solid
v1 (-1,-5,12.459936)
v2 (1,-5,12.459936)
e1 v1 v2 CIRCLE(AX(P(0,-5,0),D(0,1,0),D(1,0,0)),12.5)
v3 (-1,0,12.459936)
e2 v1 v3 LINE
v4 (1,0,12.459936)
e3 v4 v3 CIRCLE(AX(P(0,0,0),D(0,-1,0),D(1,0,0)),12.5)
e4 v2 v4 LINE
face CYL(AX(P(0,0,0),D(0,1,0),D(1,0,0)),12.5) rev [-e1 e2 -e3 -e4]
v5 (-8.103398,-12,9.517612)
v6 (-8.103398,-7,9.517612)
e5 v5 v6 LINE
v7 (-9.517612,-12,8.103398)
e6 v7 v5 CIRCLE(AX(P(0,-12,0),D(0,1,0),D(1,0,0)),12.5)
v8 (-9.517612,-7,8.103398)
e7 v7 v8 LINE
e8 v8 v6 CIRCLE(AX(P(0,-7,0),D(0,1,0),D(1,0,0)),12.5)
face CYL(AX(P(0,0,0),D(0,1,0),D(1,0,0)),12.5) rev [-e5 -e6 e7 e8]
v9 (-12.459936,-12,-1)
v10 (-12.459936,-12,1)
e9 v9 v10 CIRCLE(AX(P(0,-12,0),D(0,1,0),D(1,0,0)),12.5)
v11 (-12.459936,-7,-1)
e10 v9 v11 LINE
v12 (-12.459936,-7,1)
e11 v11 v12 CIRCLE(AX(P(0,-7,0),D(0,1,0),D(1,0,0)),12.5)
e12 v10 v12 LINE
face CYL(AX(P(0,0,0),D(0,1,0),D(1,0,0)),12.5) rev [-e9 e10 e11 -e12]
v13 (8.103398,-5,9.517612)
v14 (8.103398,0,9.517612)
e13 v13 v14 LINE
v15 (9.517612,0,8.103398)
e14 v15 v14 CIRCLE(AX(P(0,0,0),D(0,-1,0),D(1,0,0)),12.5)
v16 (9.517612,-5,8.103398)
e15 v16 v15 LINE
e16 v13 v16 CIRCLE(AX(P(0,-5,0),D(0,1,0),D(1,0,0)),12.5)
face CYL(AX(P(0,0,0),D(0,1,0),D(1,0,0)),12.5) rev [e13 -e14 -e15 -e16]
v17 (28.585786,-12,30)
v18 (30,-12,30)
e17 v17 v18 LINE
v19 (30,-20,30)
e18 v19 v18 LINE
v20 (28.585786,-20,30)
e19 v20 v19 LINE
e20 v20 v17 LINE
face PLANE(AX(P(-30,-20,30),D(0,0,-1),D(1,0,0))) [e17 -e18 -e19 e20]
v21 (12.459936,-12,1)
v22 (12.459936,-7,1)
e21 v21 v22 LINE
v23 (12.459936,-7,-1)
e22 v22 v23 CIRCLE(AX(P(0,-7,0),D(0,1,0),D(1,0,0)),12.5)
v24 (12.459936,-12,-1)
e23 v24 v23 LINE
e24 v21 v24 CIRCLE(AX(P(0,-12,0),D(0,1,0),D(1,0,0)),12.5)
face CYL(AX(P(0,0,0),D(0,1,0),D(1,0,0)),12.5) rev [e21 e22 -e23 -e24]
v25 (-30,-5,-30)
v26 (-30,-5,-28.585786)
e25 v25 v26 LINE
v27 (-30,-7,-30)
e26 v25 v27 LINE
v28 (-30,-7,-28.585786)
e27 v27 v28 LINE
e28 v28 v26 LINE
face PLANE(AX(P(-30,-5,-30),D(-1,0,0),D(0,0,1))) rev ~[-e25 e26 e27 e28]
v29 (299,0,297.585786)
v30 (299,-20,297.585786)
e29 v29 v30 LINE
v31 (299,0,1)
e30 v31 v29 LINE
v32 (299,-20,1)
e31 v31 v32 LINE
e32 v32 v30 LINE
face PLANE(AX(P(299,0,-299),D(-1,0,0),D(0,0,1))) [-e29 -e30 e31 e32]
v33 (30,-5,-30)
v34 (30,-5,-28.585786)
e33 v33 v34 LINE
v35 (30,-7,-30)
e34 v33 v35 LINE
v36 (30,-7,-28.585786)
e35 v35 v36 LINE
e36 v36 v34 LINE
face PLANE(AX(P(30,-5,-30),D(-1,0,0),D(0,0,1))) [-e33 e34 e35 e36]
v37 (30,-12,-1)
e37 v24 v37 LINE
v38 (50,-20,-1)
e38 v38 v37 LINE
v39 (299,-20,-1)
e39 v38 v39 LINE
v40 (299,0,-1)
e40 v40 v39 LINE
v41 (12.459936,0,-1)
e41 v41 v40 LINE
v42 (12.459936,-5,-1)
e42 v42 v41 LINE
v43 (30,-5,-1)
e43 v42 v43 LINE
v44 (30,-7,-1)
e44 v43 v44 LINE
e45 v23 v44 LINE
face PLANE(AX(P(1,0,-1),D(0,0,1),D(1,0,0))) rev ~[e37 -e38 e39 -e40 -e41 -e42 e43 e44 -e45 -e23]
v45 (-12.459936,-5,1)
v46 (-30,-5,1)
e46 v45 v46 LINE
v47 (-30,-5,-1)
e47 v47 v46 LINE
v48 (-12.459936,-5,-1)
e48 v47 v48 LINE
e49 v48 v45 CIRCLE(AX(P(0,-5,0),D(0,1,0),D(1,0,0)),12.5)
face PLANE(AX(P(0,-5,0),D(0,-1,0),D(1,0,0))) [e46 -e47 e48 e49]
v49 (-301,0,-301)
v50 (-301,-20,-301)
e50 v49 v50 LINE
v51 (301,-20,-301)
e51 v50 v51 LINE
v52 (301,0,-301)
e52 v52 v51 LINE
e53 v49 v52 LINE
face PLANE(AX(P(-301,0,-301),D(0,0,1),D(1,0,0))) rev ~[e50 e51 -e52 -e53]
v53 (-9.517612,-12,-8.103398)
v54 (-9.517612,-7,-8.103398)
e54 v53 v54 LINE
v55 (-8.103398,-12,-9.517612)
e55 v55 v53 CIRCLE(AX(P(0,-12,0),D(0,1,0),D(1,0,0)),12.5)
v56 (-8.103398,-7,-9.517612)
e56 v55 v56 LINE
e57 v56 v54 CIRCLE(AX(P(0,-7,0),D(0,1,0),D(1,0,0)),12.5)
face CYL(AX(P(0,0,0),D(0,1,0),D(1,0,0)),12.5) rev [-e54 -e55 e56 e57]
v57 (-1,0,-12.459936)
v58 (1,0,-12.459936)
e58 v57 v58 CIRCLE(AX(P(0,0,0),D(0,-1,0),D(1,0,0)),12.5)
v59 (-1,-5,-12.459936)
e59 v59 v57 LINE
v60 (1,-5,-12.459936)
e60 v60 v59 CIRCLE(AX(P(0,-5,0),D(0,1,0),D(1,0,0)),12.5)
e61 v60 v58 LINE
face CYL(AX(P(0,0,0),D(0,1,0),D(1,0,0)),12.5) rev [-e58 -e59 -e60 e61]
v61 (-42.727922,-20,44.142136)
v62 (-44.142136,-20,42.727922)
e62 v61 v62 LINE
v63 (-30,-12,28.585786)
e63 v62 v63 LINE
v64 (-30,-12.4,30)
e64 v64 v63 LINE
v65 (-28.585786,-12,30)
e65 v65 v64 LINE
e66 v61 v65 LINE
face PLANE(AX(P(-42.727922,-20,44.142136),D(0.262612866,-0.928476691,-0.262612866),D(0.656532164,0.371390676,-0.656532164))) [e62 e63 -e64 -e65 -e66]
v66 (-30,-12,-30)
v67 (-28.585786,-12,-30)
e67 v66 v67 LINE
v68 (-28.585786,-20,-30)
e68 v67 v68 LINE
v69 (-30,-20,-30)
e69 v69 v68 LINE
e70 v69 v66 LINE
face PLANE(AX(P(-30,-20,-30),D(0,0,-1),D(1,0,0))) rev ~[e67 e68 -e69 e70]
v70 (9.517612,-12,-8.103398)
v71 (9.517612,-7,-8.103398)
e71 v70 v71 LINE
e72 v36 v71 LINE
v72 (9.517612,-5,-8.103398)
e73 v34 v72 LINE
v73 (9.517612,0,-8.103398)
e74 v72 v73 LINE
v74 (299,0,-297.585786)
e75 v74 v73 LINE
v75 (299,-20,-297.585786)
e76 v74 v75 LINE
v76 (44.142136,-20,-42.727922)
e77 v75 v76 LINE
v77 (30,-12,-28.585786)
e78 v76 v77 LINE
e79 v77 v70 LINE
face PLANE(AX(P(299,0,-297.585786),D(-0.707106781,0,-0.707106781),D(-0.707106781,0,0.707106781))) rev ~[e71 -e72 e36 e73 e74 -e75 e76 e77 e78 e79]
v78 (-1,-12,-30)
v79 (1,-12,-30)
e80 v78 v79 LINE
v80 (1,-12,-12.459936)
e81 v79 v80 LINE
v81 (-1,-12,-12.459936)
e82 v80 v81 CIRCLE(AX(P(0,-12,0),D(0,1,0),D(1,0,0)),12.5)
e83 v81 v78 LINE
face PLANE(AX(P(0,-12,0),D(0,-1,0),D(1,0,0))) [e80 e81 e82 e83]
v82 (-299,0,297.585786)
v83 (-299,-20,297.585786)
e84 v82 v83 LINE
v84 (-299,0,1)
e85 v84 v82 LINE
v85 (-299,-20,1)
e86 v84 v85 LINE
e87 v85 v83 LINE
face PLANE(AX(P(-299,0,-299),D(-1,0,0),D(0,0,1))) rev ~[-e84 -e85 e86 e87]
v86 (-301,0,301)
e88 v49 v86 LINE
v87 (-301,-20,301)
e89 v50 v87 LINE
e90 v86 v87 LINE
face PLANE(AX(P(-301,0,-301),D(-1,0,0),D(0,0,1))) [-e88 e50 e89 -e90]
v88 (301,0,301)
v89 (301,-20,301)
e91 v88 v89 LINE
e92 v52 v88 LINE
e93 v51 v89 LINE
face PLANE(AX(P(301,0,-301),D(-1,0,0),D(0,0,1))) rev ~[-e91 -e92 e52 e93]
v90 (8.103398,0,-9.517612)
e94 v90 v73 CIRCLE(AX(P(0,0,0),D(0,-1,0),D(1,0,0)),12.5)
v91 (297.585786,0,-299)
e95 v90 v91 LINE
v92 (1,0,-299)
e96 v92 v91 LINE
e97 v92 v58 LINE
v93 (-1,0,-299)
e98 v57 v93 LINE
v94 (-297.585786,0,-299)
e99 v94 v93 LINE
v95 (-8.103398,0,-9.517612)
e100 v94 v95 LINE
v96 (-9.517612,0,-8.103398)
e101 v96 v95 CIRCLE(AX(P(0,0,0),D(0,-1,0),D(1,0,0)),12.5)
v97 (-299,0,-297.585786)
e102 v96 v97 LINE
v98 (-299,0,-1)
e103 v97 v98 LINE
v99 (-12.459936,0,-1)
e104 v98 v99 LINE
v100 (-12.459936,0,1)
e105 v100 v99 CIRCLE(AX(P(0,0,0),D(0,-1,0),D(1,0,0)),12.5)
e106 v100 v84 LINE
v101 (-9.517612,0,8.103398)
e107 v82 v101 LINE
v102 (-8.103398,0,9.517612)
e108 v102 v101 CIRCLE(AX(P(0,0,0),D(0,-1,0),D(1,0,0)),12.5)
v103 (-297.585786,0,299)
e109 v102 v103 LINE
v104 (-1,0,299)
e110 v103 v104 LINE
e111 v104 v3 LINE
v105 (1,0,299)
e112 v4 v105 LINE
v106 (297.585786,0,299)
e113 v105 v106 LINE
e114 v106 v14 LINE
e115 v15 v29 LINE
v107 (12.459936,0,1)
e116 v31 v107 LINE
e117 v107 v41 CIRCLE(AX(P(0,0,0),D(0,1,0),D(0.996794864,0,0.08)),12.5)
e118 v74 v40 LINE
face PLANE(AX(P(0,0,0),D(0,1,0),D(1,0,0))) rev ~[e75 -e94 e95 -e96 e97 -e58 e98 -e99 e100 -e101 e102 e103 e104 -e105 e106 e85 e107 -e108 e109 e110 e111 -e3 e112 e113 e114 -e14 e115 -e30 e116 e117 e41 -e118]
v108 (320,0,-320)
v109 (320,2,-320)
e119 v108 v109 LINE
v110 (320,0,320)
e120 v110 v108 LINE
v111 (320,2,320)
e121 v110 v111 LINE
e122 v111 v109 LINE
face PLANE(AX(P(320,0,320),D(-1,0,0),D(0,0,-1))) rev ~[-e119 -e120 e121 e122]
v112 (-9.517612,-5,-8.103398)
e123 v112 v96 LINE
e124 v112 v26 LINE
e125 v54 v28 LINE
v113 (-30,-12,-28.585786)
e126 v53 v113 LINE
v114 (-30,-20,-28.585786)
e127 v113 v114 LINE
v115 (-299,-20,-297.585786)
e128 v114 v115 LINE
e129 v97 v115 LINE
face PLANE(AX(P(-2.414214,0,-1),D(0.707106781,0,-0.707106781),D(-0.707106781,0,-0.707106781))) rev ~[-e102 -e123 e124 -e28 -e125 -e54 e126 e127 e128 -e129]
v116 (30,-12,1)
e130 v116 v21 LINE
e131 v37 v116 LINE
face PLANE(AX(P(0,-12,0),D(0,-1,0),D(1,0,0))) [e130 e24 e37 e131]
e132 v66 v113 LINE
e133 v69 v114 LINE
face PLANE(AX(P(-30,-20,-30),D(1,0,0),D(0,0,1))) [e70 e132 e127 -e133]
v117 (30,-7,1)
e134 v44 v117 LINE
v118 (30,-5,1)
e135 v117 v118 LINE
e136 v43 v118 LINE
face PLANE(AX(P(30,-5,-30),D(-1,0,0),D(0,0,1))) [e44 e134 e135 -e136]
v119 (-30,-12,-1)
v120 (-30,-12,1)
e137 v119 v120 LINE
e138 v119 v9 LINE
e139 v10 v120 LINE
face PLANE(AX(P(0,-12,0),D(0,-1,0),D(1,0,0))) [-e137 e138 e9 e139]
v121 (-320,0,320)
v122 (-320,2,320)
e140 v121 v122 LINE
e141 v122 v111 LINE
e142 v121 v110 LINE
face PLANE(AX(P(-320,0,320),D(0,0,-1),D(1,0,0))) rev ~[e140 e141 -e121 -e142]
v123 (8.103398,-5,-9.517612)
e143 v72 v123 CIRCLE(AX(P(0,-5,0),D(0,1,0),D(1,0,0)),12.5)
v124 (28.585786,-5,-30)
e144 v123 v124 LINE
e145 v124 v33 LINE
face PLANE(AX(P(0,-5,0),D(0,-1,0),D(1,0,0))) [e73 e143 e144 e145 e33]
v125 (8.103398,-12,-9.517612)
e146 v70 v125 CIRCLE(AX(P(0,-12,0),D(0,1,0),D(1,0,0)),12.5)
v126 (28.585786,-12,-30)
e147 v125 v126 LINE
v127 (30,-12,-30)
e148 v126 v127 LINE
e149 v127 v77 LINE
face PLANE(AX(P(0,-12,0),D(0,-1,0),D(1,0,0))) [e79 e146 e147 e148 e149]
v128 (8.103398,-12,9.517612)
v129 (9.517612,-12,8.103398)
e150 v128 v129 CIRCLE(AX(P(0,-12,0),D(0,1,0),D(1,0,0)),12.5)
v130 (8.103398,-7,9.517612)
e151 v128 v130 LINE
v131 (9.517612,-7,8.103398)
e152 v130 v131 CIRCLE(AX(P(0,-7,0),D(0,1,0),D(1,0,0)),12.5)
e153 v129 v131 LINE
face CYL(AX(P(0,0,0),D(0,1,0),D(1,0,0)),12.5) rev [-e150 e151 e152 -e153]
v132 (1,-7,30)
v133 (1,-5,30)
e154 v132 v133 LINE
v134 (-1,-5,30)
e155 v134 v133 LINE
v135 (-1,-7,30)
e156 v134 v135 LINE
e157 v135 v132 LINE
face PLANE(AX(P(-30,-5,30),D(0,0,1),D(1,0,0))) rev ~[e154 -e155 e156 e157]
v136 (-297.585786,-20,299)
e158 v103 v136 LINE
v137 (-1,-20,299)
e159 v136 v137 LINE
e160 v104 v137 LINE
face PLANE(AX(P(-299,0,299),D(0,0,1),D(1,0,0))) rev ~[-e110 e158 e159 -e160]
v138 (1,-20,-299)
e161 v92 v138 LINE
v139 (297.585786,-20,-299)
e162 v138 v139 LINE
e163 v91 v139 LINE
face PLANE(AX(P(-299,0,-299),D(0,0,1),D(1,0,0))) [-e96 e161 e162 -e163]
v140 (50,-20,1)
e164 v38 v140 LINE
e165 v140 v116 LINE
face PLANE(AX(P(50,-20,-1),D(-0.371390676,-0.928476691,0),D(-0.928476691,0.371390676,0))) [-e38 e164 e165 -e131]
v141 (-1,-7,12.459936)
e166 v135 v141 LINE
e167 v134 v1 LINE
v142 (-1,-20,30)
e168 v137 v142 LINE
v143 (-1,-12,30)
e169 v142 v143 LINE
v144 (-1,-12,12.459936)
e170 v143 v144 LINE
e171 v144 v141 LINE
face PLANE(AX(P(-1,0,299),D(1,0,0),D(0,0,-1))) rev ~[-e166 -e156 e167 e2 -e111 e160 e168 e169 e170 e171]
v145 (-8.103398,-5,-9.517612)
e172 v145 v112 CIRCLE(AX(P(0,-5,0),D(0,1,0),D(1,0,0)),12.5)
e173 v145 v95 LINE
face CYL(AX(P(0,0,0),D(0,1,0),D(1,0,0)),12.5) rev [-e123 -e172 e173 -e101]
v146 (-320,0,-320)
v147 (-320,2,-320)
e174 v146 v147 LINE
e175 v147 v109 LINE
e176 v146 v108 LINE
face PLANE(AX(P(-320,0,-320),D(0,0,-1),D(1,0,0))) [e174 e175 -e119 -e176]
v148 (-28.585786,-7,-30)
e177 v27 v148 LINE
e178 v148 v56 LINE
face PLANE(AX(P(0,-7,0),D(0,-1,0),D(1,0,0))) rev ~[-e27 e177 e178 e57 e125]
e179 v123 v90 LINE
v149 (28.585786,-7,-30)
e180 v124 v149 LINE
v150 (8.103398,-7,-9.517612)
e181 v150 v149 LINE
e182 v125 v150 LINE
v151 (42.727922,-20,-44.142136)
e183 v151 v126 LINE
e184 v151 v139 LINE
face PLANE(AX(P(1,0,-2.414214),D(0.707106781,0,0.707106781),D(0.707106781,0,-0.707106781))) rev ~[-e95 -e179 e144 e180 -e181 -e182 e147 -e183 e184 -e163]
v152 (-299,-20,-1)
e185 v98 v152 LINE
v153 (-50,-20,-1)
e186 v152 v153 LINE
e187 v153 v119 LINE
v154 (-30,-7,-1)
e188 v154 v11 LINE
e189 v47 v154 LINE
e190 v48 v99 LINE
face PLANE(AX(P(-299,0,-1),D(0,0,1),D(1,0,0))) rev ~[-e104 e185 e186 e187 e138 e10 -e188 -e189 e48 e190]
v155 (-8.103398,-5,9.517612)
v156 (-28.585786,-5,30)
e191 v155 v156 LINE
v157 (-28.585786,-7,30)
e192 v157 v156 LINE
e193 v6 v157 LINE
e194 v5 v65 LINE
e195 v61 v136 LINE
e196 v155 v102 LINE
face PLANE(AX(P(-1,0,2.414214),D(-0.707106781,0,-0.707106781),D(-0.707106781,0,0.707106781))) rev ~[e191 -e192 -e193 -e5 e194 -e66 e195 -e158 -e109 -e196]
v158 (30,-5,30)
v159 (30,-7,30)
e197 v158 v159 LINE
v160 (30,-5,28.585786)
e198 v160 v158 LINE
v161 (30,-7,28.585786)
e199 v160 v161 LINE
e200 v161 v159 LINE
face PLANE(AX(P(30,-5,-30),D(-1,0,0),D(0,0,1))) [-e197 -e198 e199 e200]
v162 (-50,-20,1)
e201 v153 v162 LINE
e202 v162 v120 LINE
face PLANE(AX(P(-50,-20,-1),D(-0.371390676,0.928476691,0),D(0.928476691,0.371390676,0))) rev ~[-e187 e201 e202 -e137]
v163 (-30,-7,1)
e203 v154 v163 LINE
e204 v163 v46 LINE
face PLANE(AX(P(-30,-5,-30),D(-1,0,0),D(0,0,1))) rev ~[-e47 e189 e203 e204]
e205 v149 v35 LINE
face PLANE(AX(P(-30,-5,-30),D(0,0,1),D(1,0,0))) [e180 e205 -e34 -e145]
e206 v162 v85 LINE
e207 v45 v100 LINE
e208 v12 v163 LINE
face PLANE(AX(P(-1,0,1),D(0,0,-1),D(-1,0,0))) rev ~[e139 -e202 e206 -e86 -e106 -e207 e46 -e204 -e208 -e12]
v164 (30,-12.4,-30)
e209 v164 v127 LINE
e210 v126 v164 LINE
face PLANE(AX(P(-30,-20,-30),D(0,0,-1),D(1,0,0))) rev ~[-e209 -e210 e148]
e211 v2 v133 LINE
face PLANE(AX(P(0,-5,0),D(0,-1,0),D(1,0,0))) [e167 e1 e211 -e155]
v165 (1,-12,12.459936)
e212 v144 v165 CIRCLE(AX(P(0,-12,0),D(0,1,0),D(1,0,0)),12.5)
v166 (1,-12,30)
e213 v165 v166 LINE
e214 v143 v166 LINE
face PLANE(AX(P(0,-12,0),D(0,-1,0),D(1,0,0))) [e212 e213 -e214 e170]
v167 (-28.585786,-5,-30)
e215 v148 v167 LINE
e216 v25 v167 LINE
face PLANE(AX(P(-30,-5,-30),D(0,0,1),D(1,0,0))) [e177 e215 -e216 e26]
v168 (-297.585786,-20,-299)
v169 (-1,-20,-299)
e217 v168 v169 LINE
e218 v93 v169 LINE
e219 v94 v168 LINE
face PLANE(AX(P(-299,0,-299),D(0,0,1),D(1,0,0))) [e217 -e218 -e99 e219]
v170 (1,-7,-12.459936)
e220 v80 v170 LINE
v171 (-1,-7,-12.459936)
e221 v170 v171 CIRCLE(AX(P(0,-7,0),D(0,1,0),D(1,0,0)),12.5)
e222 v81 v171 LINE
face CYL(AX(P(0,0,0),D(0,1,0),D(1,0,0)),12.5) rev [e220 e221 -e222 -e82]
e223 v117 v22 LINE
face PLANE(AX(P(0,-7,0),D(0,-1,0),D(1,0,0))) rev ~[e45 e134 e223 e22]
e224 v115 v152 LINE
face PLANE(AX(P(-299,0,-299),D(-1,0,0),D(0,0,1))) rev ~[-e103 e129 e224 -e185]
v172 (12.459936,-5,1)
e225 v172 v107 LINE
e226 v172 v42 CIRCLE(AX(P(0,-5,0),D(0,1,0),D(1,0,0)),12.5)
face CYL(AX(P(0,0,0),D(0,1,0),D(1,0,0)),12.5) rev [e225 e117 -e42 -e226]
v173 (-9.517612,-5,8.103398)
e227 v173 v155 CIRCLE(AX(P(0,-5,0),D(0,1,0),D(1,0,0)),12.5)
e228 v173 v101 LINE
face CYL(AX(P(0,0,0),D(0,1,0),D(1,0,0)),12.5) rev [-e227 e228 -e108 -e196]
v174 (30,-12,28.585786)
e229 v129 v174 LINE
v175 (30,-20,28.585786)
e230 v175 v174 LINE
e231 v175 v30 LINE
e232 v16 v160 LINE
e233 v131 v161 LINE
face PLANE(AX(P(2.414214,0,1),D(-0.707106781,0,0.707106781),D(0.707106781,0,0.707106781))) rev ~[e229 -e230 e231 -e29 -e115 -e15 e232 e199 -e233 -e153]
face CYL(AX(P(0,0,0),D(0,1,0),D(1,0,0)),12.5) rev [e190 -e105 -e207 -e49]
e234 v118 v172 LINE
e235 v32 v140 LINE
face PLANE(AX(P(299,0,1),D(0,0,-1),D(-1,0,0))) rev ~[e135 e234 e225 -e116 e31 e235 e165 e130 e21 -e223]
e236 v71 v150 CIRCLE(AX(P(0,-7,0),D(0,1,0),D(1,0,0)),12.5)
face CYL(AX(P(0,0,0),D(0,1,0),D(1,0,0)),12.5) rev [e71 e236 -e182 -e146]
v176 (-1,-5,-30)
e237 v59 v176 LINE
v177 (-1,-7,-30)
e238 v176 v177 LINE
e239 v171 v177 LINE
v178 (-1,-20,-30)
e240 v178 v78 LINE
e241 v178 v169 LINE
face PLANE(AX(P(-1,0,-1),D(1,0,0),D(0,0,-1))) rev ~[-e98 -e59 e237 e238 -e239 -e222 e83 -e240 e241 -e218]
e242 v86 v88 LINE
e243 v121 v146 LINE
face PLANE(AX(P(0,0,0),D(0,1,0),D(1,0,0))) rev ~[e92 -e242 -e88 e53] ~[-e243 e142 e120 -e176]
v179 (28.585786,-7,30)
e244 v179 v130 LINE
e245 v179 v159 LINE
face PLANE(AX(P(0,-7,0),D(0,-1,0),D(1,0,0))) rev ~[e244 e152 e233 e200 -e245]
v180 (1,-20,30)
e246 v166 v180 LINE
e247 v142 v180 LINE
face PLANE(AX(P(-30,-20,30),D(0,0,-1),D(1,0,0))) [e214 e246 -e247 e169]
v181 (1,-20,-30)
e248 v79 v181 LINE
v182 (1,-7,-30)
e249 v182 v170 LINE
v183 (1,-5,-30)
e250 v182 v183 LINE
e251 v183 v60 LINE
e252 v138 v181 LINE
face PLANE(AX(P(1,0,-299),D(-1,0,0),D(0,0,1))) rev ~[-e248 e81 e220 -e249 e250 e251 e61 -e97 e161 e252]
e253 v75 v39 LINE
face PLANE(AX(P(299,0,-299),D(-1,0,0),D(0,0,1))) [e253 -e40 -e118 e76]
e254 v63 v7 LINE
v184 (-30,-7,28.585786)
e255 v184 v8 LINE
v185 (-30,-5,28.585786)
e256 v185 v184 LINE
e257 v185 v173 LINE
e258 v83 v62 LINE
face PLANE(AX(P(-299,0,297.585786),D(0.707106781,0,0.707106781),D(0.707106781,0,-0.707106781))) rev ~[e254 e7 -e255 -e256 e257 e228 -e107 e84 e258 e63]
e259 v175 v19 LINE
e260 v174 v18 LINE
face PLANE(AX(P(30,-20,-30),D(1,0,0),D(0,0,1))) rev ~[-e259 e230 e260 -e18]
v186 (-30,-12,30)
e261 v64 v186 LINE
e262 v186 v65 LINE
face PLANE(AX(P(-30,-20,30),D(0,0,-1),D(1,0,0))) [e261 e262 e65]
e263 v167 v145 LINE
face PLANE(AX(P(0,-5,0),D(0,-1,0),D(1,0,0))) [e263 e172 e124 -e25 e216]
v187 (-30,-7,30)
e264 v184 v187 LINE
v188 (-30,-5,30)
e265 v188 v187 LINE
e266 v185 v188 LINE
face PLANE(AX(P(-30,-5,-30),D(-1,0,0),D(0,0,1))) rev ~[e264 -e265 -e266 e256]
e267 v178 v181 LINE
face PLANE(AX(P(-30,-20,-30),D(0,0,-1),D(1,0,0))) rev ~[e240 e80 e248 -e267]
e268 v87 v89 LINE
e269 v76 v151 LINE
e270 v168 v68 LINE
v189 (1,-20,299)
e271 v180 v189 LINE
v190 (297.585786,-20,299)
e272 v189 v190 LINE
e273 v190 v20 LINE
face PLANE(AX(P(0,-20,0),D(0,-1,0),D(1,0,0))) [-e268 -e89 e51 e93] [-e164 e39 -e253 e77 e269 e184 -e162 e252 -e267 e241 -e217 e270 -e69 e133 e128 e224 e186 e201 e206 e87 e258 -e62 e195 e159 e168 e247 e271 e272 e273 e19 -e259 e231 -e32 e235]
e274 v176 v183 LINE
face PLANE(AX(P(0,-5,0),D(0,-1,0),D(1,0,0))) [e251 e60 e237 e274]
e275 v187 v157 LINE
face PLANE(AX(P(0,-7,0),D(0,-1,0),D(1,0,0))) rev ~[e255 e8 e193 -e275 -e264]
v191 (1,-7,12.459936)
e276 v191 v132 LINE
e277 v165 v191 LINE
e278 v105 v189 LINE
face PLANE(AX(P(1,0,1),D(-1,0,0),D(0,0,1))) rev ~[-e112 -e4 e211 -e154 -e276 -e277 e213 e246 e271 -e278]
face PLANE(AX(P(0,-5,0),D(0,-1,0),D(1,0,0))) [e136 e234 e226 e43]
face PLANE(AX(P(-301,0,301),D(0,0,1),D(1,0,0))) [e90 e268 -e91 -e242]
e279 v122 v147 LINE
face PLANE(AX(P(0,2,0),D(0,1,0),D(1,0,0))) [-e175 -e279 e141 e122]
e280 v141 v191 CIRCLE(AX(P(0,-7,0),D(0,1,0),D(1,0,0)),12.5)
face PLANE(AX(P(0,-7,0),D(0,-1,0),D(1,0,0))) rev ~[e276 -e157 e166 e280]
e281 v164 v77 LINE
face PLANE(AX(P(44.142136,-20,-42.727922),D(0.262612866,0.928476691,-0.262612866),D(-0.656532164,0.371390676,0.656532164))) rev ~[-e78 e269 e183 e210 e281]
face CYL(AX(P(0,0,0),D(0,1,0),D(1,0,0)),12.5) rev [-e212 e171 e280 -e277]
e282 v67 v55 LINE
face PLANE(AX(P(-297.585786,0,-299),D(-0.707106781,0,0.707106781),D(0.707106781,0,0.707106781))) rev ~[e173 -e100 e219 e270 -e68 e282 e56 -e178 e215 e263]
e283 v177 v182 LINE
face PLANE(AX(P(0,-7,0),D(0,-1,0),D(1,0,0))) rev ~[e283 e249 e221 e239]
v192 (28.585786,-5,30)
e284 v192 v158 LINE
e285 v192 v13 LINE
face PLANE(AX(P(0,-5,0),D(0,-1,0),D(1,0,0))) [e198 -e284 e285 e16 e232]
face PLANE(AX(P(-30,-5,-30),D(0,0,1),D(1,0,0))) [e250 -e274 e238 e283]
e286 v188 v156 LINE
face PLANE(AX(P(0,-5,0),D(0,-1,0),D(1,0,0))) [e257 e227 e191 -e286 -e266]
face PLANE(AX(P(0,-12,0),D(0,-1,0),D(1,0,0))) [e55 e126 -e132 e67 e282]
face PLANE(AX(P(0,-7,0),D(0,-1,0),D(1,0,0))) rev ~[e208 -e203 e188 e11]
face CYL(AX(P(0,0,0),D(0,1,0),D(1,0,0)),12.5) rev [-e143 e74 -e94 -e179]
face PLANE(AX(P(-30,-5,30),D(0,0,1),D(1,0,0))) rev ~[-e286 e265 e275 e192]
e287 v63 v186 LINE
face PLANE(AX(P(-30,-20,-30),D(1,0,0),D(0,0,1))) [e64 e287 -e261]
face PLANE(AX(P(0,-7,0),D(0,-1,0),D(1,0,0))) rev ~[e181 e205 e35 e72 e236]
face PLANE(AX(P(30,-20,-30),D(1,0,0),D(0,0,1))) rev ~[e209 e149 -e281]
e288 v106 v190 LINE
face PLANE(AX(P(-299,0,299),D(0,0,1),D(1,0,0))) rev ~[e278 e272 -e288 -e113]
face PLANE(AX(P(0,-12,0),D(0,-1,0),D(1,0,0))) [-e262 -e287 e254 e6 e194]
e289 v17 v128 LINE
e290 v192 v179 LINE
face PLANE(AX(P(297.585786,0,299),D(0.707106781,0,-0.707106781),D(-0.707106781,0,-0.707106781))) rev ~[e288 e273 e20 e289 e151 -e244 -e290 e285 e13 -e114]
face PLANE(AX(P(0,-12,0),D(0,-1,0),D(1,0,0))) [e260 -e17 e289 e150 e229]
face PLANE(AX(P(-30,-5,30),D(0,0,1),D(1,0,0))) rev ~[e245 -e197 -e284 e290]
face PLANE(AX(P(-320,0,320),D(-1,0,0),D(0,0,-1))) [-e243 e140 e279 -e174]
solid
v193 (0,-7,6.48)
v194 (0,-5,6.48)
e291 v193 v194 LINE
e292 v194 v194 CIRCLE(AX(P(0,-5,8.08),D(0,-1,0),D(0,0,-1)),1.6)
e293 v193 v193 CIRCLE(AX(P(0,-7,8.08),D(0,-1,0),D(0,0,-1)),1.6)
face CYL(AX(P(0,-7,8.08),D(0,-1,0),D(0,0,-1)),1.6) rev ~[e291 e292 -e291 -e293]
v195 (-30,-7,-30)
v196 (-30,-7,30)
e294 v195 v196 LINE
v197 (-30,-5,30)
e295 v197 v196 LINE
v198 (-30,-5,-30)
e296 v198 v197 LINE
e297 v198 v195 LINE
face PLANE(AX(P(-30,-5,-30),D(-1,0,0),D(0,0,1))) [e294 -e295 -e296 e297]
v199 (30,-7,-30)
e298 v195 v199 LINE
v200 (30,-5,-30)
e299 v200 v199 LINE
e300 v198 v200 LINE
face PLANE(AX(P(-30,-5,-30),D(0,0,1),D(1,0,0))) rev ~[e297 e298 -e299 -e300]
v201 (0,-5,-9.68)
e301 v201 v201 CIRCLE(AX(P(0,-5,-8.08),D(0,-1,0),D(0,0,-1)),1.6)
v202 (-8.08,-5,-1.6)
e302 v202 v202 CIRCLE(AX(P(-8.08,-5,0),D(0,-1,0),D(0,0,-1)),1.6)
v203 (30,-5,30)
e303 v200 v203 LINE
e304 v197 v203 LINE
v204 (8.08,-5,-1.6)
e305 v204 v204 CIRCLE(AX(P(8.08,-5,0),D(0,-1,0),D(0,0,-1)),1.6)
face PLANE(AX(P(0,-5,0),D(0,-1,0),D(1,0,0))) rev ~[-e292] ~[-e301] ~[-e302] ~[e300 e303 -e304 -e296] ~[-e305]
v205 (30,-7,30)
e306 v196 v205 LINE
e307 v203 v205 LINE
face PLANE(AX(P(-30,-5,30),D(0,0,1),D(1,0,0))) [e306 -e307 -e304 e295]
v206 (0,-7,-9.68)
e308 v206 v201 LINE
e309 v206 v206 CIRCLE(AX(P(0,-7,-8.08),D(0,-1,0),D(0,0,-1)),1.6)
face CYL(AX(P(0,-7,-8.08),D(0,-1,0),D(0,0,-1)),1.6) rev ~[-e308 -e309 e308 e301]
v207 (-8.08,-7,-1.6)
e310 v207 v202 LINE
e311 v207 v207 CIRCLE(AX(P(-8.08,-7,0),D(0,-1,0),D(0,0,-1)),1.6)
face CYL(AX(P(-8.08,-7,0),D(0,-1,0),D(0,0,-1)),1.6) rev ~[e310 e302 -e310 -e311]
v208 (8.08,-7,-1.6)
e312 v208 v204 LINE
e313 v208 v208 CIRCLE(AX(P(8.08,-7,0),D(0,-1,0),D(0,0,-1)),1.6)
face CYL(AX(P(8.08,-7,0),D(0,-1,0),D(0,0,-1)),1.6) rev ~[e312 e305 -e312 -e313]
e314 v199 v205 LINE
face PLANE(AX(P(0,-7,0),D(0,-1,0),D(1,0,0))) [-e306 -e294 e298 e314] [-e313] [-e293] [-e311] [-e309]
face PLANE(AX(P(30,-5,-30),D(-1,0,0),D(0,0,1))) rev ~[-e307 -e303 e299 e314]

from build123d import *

# Parameters (mm, degrees)
SKETCH_1_W          = 640
SKETCH_1_H          = 640
EXTRUDE_1_DEPTH     = 2
SKETCH_2_W          = 602
SKETCH_2_H          = 602
SKETCH_2_W_2        = 598
SKETCH_2_H_2        = 598
EXTRUDE_2_DEPTH     = 20
SKETCH_4_R          = 12.5
CUT_EXTRUDE_1_DEPTH = 453.990066116
CUT_EXTRUDE_START   = 5
SKETCH_3_W          = 60
SKETCH_3_H          = 60
CUT_EXTRUDE_2_DEPTH = 2
EXTRUDE_START       = 5
SKETCH_3_2_W        = 60
SKETCH_3_2_H        = 60
EXTRUDE_3_DEPTH     = 2
SKETCH_5_R          = 1.6
CUT_EXTRUDE_3_DEPTH = 2
CUT_EXTRUDE_START_2 = 20
SKETCH_3_3_W        = 60
SKETCH_3_3_H        = 60
CUT_EXTRUDE_4_DEPTH = 8
CUT_EXTRUDE_5_DEPTH = 2
CUT_EXTRUDE_6_REACH = 455.989


with BuildPart() as part:
    # 草图1 → 凸台-拉伸1 (new body)
    with BuildSketch(Plane(origin=(0, 0, 0), x_dir=(1, 0, 0), z_dir=(0, 1, 0))):
        Rectangle(SKETCH_1_W, SKETCH_1_H)
    extrude(amount=EXTRUDE_1_DEPTH)

    # 草图2 → 凸台-拉伸2 (add)
    # profile 1 of 6: a face of its own
    with BuildSketch(Plane.XZ):
        Rectangle(SKETCH_2_W, SKETCH_2_H)
        Rectangle(SKETCH_2_W_2, SKETCH_2_H_2, mode=Mode.SUBTRACT)
    # profile 2 of 6: a face of its own
    with BuildSketch(Plane.XZ):
        Polygon((299, -297.585786438), (2.414213562, -1), (1, -1), (1, -2.414213562), (297.585786438, -299), (299, -299), align=None)
    # profile 3 of 6: a face of its own
    with BuildSketch(Plane.XZ):
        Polygon((-1, 2.414213562), (-297.585786438, 299), (-299, 299), (-299, 297.585786438), (-2.414213562, 1), (-1, 1), align=None)
    # profile 4 of 6: a face of its own
    with BuildSketch(Plane.XZ):
        Polygon((299, 1), (2.414213562, 1), (1, 1), (1, 2.414213562), (1, 299), (-1, 299), (-1, 2.414213562), (-1, 1), (-2.414213562, 1), (-299, 1), (-299, -1), (-2.414213562, -1), (-1, -1), (-1, -2.414213562), (-1, -299), (1, -299), (1, -2.414213562), (1, -1), (2.414213562, -1), (299, -1), align=None)
    # profile 5 of 6: a face of its own
    with BuildSketch(Plane.XZ):
        Polygon((2.414213562, 1), (299, 297.585786438), (299, 299), (297.585786438, 299), (1, 2.414213562), (1, 1), align=None)
    # profile 6 of 6: a face of its own
    with BuildSketch(Plane.XZ):
        Polygon((-297.585786438, -299), (-1, -2.414213562), (-1, -1), (-2.414213562, -1), (-299, -297.585786438), (-299, -299), align=None)
    extrude(amount=EXTRUDE_2_DEPTH)

    # 草图4 → 切除-拉伸1 (cut, through all)
    with BuildSketch(Plane.XZ):
        Circle(SKETCH_4_R)
    extrude(amount=CUT_EXTRUDE_1_DEPTH, mode=Mode.SUBTRACT)

    # 草图3 → 切除-拉伸2 (cut)
    with BuildSketch(Plane.XZ.offset(CUT_EXTRUDE_START)):
        Rectangle(SKETCH_3_W, SKETCH_3_H)
    extrude(amount=CUT_EXTRUDE_2_DEPTH, mode=Mode.SUBTRACT)

    # 草图3<3> → 切除-拉伸4 (cut)
    with BuildSketch(Plane.XZ.offset(CUT_EXTRUDE_START_2)):
        Rectangle(SKETCH_3_3_W, SKETCH_3_3_H)
    extrude(amount=-CUT_EXTRUDE_4_DEPTH, mode=Mode.SUBTRACT)

    # 草图7 → 切除-拉伸5 (cut)
    with BuildSketch(Plane(origin=(0, 0, -1), x_dir=(-1, 0, 0), z_dir=(0, 0, -1))):
        Polygon((-30, -12), (-30, -20), (-50, -20), align=None)
        Polygon((50, -20), (30, -12), (30, -20), align=None)
    extrude(amount=-CUT_EXTRUDE_5_DEPTH, mode=Mode.SUBTRACT)

    # 切除-拉伸6: up to this face of the body (flat: up to its plane)
    cut_extrude_6_end = Plane(part.part.faces().sort_by_distance((-159.191604646, -9.853299667, 157.777391083))[0])
    # 草图8 → 切除-拉伸6 (cut, up to the picked face)
    with BuildSketch(Plane(origin=(0.7071067811864107, 0, 0.7071067811864109), x_dir=(0.7071067811865476, 0, -0.7071067811865476), z_dir=(0.7071067811865476, 0, 0.7071067811865476)), mode=Mode.PRIVATE) as cut_extrude_6_sk1:
        Polygon((-41.426406871, -12), (-41.426406871, -20), (-61.426406871, -20), align=None)
    cut_extrude_6_tool1 = split(extrude(cut_extrude_6_sk1.sketch, amount=-CUT_EXTRUDE_6_REACH, mode=Mode.PRIVATE), bisect_by=cut_extrude_6_end, keep=Keep.BOTH, mode=Mode.PRIVATE)
    # 草图8 → 切除-拉伸6 (cut, up to the picked face)
    with BuildSketch(Plane(origin=(0.7071067811864107, 0, 0.7071067811864109), x_dir=(0.7071067811865476, 0, -0.7071067811865476), z_dir=(0.7071067811865476, 0, 0.7071067811865476)), mode=Mode.PRIVATE) as cut_extrude_6_sk2:
        Polygon((61.426406871, -20), (41.426406871, -12), (41.426406871, -20), align=None)
    cut_extrude_6_tool2 = split(extrude(cut_extrude_6_sk2.sketch, amount=-CUT_EXTRUDE_6_REACH, mode=Mode.PRIVATE), bisect_by=cut_extrude_6_end, keep=Keep.BOTH, mode=Mode.PRIVATE)
    add(cut_extrude_6_tool1.solids().sort_by(Axis((-33.299832, -17.333333, 34.714045), (-0.7071067811865476, 0, -0.7071067811865476)))[0], mode=Mode.SUBTRACT)
    add(cut_extrude_6_tool2.solids().sort_by(Axis((34.714045, -17.333333, -33.299832), (-0.7071067811865476, 0, -0.7071067811865476)))[0], mode=Mode.SUBTRACT)


with BuildPart() as body_2:
    # 草图3<2> → 凸台-拉伸3 (new body)
    with BuildSketch(Plane.XZ.offset(EXTRUDE_START)):
        Rectangle(SKETCH_3_2_W, SKETCH_3_2_H)
    extrude(amount=EXTRUDE_3_DEPTH)

    # 草图5 → 切除-拉伸3 (cut)
    with BuildSketch(Plane.XZ.offset(7)):
        with Locations(Location((8.08, 0, 0), (0, 0, 270))):
            Circle(SKETCH_5_R)
        with Locations(Location((0, -8.08, 0), (0, 0, 270))):
            Circle(SKETCH_5_R)
        with Locations(Location((-8.08, 0, 0), (0, 0, 270))):
            Circle(SKETCH_5_R)
        with Locations(Location((0, 8.08, 0), (0, 0, 270))):
            Circle(SKETCH_5_R)
    extrude(amount=-CUT_EXTRUDE_3_DEPTH, mode=Mode.SUBTRACT)


solid = Compound([part.part, body_2.part])
